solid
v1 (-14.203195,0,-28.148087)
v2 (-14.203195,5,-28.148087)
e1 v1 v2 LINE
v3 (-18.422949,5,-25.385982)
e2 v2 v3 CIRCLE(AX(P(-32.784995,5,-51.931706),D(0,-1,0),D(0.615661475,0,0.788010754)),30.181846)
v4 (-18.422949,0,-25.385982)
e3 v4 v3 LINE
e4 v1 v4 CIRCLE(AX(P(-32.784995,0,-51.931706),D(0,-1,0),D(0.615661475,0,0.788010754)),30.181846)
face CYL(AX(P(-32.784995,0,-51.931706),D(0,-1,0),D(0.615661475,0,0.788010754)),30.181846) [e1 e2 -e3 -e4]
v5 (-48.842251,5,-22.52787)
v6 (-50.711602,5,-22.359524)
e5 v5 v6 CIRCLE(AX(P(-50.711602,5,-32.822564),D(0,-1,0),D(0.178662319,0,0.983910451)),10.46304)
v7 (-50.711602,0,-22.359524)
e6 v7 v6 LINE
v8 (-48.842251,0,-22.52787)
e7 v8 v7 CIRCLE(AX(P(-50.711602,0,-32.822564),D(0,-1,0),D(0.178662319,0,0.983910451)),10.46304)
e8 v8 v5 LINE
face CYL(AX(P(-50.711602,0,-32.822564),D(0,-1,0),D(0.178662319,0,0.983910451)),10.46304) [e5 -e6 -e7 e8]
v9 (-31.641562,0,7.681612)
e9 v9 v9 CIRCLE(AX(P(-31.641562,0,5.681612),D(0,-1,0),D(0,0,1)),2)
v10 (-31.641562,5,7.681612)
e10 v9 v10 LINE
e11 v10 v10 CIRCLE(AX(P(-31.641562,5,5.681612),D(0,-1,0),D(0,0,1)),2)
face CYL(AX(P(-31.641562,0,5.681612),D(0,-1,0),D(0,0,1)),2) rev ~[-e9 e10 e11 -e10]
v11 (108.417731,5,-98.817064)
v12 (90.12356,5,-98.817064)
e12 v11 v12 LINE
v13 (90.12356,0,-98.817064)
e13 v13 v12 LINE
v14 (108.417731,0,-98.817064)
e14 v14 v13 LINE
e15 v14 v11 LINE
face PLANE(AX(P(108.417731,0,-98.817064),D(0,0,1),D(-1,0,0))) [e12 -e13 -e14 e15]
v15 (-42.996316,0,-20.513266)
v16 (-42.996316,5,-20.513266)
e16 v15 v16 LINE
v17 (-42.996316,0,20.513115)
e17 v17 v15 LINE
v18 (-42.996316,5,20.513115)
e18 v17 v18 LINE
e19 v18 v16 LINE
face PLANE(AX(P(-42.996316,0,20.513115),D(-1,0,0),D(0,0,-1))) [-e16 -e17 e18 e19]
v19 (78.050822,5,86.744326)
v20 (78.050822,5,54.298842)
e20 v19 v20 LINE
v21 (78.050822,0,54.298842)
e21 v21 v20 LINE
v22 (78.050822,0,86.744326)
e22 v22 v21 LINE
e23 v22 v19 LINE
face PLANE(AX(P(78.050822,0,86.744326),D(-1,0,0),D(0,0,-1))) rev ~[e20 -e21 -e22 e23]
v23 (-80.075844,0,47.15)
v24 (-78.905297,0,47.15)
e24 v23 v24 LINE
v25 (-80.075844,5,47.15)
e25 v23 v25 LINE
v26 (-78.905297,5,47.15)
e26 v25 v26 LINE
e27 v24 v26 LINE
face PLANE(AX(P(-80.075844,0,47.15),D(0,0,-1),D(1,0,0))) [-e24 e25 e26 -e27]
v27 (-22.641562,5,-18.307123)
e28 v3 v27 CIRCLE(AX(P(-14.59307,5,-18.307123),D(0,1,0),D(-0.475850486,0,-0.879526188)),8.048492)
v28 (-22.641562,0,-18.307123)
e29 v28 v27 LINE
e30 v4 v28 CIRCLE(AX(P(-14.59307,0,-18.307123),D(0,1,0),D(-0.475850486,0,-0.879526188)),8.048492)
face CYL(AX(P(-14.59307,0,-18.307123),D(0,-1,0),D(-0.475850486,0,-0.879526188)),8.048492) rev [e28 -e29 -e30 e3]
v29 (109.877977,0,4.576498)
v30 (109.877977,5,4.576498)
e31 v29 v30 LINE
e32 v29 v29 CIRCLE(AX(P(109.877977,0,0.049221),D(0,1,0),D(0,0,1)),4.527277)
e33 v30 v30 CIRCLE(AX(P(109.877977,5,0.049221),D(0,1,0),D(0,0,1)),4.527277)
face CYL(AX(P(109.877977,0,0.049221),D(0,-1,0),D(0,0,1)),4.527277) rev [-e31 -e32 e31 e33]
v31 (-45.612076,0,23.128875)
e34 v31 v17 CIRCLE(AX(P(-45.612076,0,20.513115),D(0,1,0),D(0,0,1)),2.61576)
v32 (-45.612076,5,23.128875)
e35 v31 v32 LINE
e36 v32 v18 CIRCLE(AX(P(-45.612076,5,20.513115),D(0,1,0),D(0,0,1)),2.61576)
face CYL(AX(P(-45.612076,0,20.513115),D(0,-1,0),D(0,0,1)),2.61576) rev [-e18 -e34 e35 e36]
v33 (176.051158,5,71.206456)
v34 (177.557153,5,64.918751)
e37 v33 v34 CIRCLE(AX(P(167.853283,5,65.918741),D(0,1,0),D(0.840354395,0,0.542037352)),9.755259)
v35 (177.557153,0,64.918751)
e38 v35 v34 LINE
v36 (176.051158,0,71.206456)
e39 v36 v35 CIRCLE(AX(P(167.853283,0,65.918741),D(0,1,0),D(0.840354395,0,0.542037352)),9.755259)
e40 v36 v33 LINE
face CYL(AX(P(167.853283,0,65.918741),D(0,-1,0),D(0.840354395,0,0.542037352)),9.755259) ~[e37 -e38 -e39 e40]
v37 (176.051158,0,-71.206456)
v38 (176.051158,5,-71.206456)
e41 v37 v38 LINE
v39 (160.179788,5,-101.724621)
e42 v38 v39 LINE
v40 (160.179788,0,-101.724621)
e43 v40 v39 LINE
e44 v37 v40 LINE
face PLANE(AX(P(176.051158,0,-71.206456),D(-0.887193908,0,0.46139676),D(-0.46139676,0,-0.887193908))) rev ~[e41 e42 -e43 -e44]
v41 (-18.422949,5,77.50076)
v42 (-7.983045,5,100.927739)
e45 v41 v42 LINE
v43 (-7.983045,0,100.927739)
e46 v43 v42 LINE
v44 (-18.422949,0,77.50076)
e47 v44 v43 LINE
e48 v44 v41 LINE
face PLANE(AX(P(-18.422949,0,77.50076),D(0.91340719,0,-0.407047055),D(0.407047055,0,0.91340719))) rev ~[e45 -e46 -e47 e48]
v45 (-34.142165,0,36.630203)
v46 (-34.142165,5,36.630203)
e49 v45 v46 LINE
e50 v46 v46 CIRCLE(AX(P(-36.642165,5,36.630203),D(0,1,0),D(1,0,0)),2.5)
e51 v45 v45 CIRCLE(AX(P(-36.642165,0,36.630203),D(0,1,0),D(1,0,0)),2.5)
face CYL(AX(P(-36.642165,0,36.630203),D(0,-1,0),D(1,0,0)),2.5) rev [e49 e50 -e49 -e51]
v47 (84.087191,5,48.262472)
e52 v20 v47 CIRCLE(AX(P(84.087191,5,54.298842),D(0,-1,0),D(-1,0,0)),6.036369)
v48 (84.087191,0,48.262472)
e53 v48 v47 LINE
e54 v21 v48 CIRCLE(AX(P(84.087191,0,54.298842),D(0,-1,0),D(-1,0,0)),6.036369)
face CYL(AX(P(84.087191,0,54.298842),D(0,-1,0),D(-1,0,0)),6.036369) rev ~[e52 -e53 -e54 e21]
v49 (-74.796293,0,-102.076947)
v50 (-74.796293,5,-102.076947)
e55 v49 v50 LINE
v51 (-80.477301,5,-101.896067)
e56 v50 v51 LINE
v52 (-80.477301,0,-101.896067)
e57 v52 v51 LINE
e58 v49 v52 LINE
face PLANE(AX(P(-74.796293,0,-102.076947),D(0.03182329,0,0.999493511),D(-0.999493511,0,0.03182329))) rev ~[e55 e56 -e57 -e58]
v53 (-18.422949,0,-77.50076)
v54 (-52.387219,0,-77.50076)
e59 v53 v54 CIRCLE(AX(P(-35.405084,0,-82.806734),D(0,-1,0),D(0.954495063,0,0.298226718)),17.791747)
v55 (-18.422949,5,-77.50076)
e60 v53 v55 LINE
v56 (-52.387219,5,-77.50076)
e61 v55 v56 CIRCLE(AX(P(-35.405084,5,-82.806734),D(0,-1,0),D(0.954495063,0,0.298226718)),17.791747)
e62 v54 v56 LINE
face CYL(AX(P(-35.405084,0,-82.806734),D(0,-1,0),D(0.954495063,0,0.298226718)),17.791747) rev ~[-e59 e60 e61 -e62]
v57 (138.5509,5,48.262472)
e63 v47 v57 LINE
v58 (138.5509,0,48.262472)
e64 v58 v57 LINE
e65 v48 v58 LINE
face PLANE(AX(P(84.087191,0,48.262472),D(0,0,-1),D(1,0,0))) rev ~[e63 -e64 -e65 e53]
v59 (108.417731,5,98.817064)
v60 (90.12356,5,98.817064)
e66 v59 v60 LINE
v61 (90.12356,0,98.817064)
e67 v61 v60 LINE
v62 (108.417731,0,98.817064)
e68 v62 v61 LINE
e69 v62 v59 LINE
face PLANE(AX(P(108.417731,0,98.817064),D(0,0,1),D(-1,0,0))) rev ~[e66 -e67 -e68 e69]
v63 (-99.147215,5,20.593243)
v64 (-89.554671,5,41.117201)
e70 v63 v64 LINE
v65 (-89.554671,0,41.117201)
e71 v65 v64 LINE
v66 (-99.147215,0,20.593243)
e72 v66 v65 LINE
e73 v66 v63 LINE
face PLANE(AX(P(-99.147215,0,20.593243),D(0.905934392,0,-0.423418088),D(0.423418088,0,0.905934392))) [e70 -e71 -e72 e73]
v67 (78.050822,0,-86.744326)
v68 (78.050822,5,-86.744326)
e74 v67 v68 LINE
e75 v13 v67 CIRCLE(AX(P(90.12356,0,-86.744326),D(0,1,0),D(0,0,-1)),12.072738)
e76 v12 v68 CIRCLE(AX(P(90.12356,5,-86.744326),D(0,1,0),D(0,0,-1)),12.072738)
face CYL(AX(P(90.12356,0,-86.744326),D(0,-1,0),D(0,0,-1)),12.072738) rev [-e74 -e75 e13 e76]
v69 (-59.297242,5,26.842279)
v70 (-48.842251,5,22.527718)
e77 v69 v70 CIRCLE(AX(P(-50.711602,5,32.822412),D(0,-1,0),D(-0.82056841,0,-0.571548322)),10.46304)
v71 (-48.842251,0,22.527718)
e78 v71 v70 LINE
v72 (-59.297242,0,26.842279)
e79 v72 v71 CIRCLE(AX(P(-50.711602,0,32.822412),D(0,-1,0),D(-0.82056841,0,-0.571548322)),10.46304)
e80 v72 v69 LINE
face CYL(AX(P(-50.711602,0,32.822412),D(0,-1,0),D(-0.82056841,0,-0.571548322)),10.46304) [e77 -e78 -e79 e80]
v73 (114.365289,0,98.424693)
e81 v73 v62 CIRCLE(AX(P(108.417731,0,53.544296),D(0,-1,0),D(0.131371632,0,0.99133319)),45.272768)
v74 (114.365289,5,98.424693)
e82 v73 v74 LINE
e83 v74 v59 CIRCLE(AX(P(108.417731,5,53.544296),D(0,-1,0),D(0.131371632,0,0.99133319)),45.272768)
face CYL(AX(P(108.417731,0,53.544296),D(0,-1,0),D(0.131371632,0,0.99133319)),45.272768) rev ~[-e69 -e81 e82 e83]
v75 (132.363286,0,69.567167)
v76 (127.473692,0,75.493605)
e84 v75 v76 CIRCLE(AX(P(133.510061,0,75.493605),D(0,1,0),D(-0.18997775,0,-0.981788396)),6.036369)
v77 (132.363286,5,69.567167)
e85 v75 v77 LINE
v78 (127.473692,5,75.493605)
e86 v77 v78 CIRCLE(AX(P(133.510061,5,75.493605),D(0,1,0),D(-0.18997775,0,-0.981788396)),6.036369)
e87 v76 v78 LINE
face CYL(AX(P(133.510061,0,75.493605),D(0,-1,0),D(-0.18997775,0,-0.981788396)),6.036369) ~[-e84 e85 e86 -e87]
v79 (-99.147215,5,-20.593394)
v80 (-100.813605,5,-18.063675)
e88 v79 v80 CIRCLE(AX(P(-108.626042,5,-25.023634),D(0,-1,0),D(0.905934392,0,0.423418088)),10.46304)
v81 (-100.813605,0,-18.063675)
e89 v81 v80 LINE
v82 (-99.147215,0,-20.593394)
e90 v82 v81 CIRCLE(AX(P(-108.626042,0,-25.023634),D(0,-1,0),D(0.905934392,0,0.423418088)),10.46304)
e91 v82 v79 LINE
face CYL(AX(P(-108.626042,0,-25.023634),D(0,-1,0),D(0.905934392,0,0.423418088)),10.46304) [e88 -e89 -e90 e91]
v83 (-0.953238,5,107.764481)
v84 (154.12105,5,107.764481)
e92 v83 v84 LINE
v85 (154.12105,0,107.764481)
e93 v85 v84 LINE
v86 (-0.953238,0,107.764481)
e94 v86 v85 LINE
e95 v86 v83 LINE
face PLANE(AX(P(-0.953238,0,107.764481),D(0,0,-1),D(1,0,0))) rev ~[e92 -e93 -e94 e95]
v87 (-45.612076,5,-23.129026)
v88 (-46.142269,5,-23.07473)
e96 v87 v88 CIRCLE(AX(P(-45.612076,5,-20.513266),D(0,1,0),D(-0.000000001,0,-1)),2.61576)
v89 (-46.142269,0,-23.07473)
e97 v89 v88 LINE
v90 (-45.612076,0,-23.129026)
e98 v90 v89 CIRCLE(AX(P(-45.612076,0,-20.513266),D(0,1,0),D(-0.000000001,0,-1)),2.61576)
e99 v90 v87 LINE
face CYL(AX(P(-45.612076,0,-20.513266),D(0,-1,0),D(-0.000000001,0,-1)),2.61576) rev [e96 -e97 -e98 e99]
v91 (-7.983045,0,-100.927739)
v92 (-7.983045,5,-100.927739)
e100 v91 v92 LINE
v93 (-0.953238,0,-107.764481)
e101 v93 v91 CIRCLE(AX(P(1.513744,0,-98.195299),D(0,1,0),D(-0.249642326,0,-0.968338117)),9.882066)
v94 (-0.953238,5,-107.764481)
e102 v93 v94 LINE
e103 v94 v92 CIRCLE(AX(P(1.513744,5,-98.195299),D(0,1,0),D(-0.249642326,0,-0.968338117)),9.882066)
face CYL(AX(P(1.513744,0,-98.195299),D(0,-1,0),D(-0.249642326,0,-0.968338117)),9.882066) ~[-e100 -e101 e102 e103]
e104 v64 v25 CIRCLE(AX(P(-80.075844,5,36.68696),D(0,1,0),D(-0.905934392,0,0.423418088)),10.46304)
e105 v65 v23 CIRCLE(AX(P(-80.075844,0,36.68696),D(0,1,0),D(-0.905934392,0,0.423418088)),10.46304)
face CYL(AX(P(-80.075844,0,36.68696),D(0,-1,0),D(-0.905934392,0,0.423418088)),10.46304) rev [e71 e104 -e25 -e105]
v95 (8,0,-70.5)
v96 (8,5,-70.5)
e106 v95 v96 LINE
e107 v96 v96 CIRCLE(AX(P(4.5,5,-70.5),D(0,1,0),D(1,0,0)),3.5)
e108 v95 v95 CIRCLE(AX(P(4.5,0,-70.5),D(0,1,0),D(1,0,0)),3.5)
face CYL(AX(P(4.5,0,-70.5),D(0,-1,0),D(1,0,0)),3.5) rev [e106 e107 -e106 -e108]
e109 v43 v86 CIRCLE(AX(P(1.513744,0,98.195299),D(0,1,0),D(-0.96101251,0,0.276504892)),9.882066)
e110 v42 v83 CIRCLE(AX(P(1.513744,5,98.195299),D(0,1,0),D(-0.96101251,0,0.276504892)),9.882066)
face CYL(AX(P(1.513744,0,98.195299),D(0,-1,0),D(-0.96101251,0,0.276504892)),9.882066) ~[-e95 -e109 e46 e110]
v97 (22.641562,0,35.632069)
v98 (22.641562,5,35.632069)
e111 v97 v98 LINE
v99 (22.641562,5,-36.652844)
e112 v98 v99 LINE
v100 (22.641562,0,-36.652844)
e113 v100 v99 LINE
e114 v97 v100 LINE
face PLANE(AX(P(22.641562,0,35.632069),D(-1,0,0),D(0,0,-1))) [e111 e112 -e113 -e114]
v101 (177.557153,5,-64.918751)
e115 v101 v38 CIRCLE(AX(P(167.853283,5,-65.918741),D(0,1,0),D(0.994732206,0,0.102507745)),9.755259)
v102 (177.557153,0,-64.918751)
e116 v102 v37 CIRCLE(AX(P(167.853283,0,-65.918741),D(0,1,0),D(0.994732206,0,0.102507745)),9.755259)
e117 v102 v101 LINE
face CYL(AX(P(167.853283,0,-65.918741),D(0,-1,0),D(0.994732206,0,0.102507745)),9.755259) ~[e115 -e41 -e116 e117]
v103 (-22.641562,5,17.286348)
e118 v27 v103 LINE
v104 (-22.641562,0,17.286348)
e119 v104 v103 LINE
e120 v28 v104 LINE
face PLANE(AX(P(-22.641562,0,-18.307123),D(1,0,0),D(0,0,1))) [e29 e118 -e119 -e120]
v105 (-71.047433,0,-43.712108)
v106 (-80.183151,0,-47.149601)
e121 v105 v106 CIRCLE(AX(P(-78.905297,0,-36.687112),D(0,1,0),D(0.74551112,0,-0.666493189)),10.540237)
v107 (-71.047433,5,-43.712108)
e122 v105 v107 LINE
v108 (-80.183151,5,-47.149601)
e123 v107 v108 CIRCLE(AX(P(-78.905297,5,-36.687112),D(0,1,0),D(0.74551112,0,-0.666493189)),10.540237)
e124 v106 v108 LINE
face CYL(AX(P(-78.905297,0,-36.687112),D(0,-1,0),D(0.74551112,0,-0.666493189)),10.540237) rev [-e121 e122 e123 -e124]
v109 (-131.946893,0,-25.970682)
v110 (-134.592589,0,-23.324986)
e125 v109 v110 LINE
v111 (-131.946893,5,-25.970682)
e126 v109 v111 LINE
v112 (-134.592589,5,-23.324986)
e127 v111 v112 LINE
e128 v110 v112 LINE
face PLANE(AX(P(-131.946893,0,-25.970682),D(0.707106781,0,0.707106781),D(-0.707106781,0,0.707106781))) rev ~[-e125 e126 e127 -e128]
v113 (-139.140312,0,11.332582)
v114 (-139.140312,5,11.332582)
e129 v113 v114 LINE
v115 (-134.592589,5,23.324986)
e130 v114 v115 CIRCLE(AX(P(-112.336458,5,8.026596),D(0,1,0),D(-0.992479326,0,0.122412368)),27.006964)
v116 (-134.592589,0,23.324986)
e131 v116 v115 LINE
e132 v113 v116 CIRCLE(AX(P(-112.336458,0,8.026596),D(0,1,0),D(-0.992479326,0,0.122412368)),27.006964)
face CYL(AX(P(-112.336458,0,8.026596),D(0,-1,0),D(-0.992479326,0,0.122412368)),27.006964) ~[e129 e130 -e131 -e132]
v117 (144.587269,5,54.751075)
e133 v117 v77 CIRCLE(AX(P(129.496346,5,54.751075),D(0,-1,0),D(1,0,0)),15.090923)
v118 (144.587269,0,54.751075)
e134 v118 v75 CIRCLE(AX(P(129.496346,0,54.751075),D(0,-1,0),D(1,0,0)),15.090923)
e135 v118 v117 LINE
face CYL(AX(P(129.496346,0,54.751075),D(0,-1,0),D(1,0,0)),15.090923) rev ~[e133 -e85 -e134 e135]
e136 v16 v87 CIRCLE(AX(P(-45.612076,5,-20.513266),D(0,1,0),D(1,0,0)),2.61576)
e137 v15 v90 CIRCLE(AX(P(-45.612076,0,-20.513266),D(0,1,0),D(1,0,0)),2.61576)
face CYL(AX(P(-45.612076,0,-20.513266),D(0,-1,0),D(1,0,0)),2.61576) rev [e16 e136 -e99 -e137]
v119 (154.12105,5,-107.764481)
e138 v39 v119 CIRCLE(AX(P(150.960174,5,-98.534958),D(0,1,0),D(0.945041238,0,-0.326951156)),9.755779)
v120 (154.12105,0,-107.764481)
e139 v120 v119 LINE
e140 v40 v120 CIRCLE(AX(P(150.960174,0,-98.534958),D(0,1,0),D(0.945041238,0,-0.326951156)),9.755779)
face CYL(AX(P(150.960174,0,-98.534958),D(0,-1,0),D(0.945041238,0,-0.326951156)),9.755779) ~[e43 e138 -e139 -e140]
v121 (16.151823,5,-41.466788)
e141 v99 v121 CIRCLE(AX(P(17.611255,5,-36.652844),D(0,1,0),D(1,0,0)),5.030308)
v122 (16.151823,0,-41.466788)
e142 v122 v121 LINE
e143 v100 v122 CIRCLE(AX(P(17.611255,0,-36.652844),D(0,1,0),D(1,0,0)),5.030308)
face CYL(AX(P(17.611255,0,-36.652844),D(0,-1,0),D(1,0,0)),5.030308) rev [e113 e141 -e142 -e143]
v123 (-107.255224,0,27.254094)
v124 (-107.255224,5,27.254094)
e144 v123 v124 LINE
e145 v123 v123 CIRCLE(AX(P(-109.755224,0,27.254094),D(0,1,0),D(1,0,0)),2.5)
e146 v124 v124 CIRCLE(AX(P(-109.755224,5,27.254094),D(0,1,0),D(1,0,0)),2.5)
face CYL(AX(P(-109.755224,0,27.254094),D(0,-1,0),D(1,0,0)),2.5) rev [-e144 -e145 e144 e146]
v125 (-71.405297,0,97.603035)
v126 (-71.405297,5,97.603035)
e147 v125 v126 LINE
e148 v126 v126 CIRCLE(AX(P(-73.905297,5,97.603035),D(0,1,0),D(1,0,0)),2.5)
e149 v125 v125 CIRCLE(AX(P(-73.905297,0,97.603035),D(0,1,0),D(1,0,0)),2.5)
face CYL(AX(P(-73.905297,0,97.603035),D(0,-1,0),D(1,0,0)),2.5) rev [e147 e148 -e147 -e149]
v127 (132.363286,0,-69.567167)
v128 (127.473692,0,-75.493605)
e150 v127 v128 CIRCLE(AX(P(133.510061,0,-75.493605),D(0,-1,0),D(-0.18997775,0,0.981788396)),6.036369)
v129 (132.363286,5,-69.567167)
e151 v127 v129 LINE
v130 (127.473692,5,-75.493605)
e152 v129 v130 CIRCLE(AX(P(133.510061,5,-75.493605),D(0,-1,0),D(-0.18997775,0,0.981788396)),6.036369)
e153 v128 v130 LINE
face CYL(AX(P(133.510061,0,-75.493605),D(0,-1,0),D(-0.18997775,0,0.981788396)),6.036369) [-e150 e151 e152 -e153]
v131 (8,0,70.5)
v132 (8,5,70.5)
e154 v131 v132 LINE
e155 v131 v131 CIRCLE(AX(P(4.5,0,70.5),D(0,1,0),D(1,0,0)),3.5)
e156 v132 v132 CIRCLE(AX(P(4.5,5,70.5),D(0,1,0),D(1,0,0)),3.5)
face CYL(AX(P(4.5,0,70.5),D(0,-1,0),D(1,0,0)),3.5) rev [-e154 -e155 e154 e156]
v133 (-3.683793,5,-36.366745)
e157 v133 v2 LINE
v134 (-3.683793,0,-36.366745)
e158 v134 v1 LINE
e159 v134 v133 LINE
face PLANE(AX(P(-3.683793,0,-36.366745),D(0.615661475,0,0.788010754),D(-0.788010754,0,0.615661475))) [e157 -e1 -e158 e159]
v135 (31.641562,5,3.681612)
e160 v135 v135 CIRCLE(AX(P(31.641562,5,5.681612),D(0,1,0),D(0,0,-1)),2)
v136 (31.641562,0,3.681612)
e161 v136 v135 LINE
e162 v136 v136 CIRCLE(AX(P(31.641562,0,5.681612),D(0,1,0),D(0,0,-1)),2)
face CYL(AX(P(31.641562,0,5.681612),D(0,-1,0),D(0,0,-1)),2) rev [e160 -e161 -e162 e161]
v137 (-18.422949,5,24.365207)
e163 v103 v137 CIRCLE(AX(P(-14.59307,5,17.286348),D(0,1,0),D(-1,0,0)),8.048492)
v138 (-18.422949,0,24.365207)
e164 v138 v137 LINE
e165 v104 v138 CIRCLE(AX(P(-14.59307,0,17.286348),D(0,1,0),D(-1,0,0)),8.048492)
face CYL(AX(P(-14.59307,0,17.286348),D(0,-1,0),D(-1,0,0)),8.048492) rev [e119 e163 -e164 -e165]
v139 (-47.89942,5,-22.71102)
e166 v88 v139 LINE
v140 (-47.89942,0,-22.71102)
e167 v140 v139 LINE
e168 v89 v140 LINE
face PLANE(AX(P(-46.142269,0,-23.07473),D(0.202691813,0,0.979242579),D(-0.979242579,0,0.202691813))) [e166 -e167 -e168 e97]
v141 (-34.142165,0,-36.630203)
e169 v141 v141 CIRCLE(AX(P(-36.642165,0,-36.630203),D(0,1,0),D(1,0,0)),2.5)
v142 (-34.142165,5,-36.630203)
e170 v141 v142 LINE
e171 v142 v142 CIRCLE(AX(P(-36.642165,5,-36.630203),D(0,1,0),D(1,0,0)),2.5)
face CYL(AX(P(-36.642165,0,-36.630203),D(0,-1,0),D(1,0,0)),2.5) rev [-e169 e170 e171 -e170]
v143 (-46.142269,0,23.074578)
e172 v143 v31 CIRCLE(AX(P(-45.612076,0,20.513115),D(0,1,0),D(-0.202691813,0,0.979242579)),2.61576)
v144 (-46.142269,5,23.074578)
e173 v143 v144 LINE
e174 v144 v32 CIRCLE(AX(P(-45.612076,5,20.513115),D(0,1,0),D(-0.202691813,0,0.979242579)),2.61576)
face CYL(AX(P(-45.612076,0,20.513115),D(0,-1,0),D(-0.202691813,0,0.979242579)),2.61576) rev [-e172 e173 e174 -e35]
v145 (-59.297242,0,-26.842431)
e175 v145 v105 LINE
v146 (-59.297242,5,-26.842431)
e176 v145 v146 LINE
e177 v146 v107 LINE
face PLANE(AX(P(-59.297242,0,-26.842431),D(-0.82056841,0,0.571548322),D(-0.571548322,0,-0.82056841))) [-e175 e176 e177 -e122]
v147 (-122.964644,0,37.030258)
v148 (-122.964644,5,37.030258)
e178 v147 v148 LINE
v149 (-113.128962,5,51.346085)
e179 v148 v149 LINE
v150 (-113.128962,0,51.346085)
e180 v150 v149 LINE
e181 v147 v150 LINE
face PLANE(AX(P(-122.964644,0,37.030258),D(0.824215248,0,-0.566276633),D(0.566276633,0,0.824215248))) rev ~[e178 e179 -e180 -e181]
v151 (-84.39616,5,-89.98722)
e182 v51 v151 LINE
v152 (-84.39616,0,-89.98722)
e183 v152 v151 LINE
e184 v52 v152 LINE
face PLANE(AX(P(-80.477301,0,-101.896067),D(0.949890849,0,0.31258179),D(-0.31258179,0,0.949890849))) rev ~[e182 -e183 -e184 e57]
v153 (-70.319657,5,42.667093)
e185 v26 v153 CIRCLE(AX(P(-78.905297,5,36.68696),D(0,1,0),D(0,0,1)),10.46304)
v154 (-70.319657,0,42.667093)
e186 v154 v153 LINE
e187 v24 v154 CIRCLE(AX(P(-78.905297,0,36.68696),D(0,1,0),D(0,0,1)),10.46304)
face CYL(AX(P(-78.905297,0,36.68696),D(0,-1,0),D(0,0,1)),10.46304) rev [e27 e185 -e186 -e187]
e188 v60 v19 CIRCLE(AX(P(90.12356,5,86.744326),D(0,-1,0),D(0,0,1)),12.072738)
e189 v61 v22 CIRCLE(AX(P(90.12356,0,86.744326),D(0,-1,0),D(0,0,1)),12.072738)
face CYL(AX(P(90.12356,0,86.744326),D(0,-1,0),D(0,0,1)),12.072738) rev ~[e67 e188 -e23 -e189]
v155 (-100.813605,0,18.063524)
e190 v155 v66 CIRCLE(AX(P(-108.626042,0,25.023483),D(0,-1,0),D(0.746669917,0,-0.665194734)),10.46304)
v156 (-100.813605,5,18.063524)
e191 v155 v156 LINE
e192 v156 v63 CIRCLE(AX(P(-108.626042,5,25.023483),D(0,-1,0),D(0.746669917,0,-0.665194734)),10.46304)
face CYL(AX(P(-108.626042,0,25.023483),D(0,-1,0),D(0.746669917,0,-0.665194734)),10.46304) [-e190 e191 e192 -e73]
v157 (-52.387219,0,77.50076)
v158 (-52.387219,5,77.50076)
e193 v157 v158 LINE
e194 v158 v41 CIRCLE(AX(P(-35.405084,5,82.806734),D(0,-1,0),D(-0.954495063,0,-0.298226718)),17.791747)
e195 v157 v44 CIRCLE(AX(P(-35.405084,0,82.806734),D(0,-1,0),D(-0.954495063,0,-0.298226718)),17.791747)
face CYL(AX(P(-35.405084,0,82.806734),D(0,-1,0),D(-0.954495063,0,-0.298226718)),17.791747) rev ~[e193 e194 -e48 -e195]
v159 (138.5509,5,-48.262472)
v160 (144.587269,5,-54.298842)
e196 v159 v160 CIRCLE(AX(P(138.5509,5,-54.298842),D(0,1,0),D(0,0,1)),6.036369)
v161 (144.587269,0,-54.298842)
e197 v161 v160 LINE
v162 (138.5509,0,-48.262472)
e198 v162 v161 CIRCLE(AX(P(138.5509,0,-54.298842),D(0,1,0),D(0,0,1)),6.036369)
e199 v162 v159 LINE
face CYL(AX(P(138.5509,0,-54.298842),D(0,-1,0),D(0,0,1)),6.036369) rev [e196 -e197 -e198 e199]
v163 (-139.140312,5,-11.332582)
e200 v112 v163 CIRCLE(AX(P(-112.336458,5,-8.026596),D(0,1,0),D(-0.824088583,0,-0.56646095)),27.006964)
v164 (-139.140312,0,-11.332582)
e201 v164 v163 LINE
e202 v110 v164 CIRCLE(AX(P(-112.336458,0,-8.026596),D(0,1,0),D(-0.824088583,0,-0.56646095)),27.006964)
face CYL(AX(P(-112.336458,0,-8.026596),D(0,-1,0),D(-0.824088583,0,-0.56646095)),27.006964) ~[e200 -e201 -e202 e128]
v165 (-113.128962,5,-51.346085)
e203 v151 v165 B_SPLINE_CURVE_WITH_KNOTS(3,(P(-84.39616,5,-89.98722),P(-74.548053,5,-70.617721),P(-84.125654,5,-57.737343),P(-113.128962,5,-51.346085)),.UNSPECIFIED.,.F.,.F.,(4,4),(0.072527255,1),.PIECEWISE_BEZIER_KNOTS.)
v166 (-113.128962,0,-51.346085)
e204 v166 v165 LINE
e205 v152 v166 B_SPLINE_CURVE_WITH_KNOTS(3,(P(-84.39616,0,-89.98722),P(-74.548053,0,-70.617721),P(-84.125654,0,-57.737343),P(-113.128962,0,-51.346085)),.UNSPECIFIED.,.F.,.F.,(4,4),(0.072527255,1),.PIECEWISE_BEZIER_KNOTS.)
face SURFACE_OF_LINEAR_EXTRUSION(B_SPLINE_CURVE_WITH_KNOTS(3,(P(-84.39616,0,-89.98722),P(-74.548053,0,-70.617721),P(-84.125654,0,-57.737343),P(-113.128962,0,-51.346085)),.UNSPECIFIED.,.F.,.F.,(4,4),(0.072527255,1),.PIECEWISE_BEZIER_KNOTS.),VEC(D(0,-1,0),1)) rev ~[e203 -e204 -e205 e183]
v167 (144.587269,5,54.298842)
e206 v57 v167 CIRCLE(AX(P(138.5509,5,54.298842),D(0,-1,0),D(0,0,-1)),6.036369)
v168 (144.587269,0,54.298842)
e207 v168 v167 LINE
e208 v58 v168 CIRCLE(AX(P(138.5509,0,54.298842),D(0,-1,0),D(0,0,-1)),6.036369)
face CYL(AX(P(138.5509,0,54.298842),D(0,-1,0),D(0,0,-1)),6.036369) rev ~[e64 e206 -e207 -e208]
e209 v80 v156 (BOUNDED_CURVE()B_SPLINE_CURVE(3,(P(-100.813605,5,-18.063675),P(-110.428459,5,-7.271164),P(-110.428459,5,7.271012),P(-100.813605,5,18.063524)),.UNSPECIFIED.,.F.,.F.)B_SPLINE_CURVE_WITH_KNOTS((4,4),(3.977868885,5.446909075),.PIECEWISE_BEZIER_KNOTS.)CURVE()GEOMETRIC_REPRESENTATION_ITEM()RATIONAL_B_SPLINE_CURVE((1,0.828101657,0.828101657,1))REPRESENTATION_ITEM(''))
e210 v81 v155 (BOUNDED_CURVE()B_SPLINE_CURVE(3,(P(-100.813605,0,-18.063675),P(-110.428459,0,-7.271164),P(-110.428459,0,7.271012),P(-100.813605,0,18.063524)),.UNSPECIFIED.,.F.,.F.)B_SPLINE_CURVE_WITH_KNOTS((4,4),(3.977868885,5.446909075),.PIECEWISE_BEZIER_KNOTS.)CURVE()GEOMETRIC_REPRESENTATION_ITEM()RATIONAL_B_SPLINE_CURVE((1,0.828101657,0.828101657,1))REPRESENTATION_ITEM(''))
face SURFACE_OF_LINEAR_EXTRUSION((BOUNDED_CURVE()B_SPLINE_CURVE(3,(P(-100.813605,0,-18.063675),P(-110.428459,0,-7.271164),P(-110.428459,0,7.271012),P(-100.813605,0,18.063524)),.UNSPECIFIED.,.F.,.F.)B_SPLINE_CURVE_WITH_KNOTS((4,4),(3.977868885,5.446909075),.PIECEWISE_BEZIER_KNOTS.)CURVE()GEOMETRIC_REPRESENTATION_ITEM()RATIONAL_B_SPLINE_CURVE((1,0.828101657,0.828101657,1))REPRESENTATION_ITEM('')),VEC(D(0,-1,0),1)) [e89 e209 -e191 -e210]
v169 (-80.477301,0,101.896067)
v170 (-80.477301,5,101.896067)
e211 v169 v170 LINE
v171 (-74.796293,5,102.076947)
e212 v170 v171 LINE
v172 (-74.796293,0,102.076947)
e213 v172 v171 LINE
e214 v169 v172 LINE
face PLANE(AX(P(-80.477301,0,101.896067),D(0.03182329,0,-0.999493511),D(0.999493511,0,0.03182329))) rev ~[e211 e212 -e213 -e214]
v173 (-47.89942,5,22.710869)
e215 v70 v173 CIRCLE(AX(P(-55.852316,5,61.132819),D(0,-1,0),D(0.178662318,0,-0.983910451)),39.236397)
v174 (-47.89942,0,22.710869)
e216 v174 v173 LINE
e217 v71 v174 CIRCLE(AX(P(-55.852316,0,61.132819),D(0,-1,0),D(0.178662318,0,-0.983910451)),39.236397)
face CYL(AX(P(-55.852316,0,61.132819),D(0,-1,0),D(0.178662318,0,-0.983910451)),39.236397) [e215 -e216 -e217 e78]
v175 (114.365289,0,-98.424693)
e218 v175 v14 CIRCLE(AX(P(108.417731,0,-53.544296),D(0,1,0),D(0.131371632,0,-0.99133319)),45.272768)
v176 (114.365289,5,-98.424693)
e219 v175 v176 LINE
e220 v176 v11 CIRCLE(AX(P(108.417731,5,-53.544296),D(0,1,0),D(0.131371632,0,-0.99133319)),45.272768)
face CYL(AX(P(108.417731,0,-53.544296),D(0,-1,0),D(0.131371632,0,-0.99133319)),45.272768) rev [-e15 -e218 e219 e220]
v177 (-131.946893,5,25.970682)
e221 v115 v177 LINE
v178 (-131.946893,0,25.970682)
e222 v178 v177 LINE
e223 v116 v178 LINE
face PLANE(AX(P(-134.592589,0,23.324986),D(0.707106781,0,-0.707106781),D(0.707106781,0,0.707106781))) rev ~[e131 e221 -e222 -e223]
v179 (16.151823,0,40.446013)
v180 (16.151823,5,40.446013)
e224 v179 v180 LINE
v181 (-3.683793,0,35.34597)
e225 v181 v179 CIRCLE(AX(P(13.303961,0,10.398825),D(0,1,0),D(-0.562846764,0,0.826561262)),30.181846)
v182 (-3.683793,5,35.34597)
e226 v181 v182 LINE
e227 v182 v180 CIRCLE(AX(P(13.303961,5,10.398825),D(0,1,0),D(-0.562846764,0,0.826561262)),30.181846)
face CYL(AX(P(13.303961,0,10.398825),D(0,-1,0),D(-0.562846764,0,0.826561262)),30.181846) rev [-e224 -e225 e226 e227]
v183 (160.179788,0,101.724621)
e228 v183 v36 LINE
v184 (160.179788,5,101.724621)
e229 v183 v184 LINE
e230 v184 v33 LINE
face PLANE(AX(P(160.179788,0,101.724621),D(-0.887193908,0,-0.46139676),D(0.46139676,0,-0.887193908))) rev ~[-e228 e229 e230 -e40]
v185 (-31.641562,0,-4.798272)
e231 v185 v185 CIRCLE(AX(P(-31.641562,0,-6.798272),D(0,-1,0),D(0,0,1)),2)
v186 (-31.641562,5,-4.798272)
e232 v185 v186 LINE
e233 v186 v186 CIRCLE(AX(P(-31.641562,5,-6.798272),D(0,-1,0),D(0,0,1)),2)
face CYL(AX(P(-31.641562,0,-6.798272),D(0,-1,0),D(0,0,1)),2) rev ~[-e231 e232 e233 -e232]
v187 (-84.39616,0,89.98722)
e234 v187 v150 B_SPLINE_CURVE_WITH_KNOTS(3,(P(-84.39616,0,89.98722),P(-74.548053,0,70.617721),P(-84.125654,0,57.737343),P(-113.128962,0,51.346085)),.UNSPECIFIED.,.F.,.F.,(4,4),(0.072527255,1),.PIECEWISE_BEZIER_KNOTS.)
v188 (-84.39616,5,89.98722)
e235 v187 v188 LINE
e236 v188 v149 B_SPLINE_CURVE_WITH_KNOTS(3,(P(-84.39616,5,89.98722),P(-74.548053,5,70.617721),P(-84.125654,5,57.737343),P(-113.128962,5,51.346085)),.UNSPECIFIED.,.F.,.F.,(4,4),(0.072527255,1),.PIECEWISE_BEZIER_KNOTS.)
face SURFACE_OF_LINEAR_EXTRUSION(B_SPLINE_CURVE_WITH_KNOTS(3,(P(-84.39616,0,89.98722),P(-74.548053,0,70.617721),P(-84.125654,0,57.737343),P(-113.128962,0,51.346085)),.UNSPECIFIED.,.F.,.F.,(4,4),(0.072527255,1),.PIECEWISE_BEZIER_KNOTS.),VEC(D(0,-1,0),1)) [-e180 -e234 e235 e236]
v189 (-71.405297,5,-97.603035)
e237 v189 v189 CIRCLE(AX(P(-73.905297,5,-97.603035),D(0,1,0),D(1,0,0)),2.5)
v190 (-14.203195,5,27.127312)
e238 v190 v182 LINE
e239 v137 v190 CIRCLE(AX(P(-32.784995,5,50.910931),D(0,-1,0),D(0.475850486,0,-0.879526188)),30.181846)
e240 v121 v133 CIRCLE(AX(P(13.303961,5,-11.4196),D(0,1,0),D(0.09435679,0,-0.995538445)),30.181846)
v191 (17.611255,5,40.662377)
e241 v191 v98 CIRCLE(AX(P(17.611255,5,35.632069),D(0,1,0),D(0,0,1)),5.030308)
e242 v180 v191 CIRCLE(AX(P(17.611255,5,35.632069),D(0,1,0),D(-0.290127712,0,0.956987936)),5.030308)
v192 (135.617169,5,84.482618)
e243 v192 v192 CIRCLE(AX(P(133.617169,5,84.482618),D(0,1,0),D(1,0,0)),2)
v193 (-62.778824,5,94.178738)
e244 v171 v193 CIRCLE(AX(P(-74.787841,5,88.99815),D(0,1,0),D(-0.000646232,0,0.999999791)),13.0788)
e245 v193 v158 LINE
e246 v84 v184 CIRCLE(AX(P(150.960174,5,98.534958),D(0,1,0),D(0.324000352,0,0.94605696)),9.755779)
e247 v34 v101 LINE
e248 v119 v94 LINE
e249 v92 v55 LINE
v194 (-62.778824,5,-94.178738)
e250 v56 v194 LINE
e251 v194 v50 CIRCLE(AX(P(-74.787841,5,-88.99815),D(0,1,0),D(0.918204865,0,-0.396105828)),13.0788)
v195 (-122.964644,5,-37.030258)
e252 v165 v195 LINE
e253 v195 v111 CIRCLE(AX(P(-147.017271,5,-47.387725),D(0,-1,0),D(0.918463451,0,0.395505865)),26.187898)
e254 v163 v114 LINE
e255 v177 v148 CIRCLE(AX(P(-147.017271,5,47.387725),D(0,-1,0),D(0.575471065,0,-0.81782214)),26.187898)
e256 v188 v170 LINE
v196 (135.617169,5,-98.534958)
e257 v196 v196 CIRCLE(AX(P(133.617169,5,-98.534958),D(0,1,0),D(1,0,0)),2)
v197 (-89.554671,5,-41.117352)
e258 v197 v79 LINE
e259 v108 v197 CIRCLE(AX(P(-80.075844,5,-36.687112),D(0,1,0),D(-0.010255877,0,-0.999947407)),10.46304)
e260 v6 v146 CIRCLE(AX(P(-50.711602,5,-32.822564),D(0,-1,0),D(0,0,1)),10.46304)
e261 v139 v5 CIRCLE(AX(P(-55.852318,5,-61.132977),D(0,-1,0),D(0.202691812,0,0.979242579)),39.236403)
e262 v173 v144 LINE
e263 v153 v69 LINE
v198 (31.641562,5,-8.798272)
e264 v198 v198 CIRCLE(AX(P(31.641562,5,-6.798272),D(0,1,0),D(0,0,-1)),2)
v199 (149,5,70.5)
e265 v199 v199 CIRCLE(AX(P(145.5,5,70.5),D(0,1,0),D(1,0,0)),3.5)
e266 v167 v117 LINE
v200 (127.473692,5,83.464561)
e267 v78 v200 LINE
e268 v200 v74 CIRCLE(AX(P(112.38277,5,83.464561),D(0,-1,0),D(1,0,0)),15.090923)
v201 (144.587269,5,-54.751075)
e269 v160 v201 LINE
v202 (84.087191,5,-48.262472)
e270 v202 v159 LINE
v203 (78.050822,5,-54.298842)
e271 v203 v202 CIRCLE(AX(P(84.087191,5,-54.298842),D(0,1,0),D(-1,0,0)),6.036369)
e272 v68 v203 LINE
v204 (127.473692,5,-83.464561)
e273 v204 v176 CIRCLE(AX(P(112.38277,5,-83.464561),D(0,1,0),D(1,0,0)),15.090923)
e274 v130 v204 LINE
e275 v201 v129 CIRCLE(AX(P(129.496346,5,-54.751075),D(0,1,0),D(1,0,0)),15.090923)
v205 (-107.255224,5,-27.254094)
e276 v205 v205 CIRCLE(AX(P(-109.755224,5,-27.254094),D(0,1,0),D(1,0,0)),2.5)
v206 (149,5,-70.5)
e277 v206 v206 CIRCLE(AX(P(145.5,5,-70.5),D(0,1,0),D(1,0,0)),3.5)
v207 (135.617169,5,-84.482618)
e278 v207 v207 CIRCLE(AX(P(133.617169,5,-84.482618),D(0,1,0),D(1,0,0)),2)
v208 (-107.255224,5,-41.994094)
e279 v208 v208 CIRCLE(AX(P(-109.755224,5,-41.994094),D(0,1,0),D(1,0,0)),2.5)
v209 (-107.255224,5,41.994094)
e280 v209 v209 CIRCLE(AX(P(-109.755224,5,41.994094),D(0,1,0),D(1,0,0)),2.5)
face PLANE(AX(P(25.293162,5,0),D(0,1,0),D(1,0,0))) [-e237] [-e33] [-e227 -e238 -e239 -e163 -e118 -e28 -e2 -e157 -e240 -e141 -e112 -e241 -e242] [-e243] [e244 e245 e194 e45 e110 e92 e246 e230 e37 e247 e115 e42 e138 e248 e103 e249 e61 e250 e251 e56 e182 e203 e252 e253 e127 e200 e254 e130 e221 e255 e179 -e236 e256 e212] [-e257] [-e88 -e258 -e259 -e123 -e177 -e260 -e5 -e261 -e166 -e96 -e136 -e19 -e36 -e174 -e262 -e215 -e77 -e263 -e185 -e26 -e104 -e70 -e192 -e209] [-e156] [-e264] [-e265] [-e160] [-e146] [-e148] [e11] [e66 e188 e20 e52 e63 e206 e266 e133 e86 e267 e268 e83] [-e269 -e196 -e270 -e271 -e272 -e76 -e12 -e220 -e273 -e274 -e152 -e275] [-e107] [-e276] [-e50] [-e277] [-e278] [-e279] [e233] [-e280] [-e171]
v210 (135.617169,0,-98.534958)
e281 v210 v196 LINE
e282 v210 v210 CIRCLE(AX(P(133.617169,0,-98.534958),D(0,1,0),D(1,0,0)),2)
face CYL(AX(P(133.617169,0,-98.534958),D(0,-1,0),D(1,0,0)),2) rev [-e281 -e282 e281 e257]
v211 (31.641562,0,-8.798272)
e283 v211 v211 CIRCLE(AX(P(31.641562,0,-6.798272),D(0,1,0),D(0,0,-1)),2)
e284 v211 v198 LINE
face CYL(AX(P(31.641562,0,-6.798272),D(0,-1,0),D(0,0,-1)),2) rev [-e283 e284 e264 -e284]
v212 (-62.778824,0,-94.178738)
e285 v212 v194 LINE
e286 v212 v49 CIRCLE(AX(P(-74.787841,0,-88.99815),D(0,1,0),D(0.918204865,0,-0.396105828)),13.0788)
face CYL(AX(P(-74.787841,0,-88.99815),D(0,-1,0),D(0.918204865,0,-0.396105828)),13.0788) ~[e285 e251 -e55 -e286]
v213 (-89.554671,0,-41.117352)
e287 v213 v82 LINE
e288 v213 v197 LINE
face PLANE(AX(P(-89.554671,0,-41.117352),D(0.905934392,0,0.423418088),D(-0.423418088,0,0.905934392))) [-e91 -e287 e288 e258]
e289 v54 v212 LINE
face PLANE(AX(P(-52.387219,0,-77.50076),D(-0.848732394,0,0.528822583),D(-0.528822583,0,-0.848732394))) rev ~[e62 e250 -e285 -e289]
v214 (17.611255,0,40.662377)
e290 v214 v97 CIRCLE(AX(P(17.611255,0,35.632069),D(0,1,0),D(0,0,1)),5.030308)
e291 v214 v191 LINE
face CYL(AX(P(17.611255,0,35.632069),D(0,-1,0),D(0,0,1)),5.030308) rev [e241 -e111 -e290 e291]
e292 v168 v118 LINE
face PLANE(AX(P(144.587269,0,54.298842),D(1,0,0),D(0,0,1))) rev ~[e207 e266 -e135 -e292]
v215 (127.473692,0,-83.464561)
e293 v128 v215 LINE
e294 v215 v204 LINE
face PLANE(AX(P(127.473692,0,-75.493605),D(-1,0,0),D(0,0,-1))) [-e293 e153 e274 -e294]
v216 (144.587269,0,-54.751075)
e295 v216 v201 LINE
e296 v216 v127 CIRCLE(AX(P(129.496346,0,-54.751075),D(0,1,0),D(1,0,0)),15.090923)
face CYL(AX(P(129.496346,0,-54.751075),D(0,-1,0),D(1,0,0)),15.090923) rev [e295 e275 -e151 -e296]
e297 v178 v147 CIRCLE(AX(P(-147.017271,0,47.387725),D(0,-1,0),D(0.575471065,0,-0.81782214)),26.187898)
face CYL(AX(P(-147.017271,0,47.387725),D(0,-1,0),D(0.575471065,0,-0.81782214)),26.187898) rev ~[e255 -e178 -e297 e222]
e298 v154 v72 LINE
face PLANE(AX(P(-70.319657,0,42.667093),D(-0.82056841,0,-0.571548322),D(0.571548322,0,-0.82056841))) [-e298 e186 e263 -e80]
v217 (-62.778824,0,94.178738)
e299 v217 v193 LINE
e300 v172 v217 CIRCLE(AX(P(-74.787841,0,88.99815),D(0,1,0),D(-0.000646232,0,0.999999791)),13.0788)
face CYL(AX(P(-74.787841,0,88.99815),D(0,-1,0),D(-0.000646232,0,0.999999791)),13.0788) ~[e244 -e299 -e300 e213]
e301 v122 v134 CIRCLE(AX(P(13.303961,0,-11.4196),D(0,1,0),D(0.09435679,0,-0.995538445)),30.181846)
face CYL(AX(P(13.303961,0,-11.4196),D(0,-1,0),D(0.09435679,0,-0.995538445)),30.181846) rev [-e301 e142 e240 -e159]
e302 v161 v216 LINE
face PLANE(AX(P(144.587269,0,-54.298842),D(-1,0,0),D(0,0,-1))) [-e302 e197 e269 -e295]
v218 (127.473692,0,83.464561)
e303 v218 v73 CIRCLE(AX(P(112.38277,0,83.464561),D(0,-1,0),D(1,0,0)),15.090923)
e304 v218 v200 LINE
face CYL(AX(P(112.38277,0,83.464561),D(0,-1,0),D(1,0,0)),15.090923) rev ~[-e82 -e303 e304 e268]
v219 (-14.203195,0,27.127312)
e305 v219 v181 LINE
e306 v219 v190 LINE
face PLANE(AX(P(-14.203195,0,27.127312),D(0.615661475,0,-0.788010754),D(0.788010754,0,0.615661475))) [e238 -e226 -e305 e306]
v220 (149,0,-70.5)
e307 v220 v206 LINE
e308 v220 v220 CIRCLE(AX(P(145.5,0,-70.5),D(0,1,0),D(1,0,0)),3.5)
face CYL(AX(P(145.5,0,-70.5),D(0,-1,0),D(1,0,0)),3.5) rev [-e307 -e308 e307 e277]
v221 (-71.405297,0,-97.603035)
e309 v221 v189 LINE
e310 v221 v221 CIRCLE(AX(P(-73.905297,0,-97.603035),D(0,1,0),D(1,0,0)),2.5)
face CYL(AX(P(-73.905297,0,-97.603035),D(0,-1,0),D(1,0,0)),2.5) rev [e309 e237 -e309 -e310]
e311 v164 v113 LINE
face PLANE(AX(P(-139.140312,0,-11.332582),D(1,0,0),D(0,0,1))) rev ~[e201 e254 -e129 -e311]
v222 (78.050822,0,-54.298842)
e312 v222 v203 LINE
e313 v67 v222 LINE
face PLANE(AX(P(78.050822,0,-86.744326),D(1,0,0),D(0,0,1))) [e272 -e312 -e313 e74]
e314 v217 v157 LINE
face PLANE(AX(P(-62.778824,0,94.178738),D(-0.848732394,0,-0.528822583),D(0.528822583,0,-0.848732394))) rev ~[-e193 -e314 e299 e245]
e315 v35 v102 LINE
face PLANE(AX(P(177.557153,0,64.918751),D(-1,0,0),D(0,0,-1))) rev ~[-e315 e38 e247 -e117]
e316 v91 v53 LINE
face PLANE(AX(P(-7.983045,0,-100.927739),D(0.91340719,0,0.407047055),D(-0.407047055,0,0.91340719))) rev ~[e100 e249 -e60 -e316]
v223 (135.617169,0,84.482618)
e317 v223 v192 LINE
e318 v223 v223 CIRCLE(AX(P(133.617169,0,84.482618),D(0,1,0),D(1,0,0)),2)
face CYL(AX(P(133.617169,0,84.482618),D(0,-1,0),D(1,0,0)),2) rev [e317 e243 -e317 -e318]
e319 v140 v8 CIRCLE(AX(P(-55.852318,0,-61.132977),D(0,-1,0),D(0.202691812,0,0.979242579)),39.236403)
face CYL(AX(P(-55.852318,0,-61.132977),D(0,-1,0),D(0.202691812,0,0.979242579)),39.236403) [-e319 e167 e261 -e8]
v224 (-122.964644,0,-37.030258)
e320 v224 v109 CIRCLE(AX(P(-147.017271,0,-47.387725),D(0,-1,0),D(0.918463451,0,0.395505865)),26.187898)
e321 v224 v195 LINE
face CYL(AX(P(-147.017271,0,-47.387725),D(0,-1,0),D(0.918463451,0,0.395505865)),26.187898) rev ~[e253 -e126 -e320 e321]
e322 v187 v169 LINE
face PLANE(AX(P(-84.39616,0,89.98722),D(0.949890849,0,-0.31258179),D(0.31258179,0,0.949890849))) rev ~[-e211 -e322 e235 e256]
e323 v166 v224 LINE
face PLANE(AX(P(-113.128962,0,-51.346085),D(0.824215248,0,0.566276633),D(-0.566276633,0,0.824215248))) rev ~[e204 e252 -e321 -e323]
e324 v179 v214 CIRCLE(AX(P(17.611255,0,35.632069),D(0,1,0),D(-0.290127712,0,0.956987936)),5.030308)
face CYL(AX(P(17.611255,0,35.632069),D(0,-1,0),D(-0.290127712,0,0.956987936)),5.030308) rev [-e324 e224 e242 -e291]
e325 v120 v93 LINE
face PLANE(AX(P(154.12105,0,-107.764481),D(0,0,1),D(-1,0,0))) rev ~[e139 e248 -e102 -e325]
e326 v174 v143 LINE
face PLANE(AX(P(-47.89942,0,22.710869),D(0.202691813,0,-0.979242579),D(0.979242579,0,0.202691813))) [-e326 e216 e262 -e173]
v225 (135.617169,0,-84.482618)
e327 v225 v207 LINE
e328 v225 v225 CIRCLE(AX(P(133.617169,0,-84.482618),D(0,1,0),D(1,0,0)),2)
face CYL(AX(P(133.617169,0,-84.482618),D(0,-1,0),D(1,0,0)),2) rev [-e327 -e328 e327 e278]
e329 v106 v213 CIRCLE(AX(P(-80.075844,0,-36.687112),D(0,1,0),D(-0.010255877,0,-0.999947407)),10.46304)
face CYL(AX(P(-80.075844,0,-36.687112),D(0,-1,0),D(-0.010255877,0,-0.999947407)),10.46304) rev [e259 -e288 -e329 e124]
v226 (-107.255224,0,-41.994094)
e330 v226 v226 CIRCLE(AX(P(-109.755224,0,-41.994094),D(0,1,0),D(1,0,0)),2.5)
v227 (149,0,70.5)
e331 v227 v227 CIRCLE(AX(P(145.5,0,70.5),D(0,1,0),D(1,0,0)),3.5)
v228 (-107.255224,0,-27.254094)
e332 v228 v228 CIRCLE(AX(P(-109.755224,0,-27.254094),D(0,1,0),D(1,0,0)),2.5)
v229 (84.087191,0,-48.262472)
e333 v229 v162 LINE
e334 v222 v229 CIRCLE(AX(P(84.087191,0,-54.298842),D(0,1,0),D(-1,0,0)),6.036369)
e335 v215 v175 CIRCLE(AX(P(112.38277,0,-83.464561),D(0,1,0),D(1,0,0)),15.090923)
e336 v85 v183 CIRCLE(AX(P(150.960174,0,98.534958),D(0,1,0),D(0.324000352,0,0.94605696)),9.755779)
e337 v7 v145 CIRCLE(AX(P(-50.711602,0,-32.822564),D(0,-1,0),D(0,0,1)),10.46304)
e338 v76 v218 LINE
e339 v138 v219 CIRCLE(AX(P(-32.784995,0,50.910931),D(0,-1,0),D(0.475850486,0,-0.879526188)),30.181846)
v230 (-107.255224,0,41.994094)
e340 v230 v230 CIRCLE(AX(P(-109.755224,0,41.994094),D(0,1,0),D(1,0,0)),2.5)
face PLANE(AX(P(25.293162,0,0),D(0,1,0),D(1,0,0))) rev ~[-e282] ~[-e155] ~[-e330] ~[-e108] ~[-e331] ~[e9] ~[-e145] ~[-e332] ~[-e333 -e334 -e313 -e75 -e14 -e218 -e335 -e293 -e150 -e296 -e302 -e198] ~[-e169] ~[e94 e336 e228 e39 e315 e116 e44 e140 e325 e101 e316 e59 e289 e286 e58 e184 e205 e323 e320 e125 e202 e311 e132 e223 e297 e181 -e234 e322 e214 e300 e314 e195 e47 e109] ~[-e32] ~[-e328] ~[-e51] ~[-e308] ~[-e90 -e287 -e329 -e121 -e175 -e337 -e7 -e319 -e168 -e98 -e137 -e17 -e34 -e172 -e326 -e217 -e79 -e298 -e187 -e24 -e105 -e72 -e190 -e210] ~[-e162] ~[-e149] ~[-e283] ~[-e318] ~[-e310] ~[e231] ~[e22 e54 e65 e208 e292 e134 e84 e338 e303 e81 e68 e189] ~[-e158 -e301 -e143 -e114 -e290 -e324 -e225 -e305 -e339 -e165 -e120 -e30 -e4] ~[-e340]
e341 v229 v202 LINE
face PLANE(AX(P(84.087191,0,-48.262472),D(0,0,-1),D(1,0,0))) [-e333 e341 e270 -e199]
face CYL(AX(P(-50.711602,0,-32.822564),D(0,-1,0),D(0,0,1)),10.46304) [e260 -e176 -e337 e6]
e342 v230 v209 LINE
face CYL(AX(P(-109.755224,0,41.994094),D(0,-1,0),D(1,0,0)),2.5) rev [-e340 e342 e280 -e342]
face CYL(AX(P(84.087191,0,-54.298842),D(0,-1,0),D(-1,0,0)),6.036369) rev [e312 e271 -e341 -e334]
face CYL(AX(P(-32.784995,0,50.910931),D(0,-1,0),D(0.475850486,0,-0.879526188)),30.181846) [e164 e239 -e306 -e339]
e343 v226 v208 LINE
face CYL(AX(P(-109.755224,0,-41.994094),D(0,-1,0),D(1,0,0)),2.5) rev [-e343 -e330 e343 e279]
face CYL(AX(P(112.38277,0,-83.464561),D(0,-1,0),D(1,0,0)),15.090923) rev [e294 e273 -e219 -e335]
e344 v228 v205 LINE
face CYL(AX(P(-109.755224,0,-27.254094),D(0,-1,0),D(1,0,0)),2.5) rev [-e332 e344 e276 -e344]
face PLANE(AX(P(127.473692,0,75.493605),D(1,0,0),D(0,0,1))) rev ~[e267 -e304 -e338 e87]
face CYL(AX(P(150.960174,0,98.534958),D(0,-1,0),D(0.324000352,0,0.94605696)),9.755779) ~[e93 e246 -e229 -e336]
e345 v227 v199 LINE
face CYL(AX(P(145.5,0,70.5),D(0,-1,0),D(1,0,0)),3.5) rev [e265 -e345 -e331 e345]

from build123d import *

# Parameters (mm, degrees)
SKETCH1_R           = 3.5
SKETCH1_R_2         = 2.5
SKETCH1_R_3         = 2
BOSS_EXTRUDE2_DEPTH = 5


with BuildPart() as part:
    # Sketch1 → Boss-Extrude2 (new body)
    with BuildSketch(Plane(origin=(0, 0, 0), x_dir=(1, 0, 0), z_dir=(0, 1, 0))):
        with BuildLine():
            Line((-131.94689332, 25.970681882), (-134.592588801, 23.324986401))
            ThreePointArc((-134.592588801, 23.324986401), (-137.58868474, 17.60266792), (-139.140311552, 11.332582281))
            Line((-139.140311552, 11.332582281), (-139.140311552, -11.332582281))
            ThreePointArc((-139.140311552, -11.332582281), (-137.58868474, -17.60266792), (-134.592588801, -23.324986401))
            Line((-134.592588801, -23.324986401), (-131.94689332, -25.970681882))
            ThreePointArc((-131.94689332, -25.970681882), (-126.689188545, -30.877876968), (-122.964643548, -37.030257619))
            Line((-122.964643548, -37.030257619), (-113.128962492, -51.346084613))
            add(Edge.make_bspline(
                [(-84.396160179, -89.98721953), (-74.548053374, -70.617720847), (-84.125654145, -57.737342542), (-113.128962492, -51.346084613)],
                knots=[0.072527255, 0.072527255, 0.072527255, 0.072527255, 1, 1, 1, 1], degree=3))
            Line((-84.396160179, -89.98721953), (-80.477300699, -101.896066655))
            Line((-80.477300699, -101.896066655), (-74.796293078, -102.076946621))
            ThreePointArc((-74.796293078, -102.076946621), (-67.604609488, -99.92775096), (-62.778823596, -94.178738404))
            Line((-62.778823596, -94.178738404), (-52.387218797, -77.500760005))
            ThreePointArc((-52.387218797, -77.500760005), (-35.405083828, -65.014987094), (-18.42294886, -77.500760005))
            Line((-18.42294886, -77.500760005), (-7.983045495, -100.927738965))
            ThreePointArc((-7.983045495, -100.927738965), (-5.375974323, -105.279578897), (-0.95323828, -107.764480662))
            Line((-0.95323828, -107.764480662), (154.12105013, -107.764480662))
            ThreePointArc((154.12105013, -107.764480662), (157.84777942, -105.444091096), (160.179787775, -101.724621245))
            Line((160.179787775, -101.724621245), (176.051157754, -71.206455594))
            ThreePointArc((176.051157754, -71.206455594), (177.340217514, -68.190997819), (177.557153354, -64.918750962))
            Line((177.557153354, -64.918750962), (177.557153354, 64.918750962))
            ThreePointArc((177.557153354, 64.918750962), (177.340217514, 68.190997819), (176.051157754, 71.206455594))
            Line((176.051157754, 71.206455594), (160.179787775, 101.724621245))
            ThreePointArc((160.179787775, 101.724621245), (157.84777942, 105.444091096), (154.12105013, 107.764480662))
            Line((154.12105013, 107.764480662), (-0.95323828, 107.764480662))
            ThreePointArc((-0.95323828, 107.764480662), (-5.375974323, 105.279578897), (-7.983045495, 100.927738965))
            Line((-7.983045495, 100.927738965), (-18.42294886, 77.500760005))
            ThreePointArc((-18.42294886, 77.500760005), (-35.405083828, 65.014987094), (-52.387218797, 77.500760005))
            Line((-52.387218797, 77.500760005), (-62.778823596, 94.178738404))
            ThreePointArc((-62.778823596, 94.178738404), (-67.604609488, 99.92775096), (-74.796293078, 102.076946621))
            Line((-74.796293078, 102.076946621), (-80.477300699, 101.896066655))
            Line((-80.477300699, 101.896066655), (-84.396160179, 89.98721953))
            add(Edge.make_bspline(
                [(-84.396160179, 89.98721953), (-74.548053374, 70.617720847), (-84.125654145, 57.737342542), (-113.128962492, 51.346084613)],
                knots=[0.072527255, 0.072527255, 0.072527255, 0.072527255, 1, 1, 1, 1], degree=3))
            Line((-113.128962492, 51.346084613), (-122.964643548, 37.030257619))
            ThreePointArc((-122.964643548, 37.030257619), (-126.689188545, 30.877876968), (-131.94689332, 25.970681882))
        make_face()
        with Locations((145.5, 70.5)):
            Circle(SKETCH1_R, mode=Mode.SUBTRACT)
        with Locations((4.5, 70.5)):
            Circle(SKETCH1_R, mode=Mode.SUBTRACT)
        with Locations((4.5, -70.5)):
            Circle(SKETCH1_R, mode=Mode.SUBTRACT)
        with Locations((145.5, -70.5)):
            Circle(SKETCH1_R, mode=Mode.SUBTRACT)
        with Locations((-73.905296724, 97.603035068)):
            Circle(SKETCH1_R_2, mode=Mode.SUBTRACT)
        with Locations((-36.642164959, 36.630202961)):
            Circle(SKETCH1_R_2, mode=Mode.SUBTRACT)
        with Locations((-36.642164959, -36.630202961)):
            Circle(SKETCH1_R_2, mode=Mode.SUBTRACT)
        with Locations((-73.905296724, -97.603035068)):
            Circle(SKETCH1_R_2, mode=Mode.SUBTRACT)
        with Locations((-109.755224174, -27.254093608)):
            Circle(SKETCH1_R_2, mode=Mode.SUBTRACT)
        with Locations((-109.755224174, -41.994093608)):
            Circle(SKETCH1_R_2, mode=Mode.SUBTRACT)
        with Locations((-109.755224174, 41.994093608)):
            Circle(SKETCH1_R_2, mode=Mode.SUBTRACT)
        with Locations((-109.755224174, 27.254093608)):
            Circle(SKETCH1_R_2, mode=Mode.SUBTRACT)
        with Locations((133.617169417, -84.482617886)):
            Circle(SKETCH1_R_3, mode=Mode.SUBTRACT)
        with Locations((133.617169417, 84.482617886)):
            Circle(SKETCH1_R_3, mode=Mode.SUBTRACT)
        with Locations((133.617169417, 98.534958019)):
            Circle(SKETCH1_R_3, mode=Mode.SUBTRACT)
        with BuildLine():
            Line((22.641562111, -35.632069218), (22.641562111, 36.652844088))
            ThreePointArc((22.641562111, 36.652844088), (20.608136604, 40.692979265), (16.151822888, 41.466787774))
            ThreePointArc((16.151822888, 41.466787774), (5.788194255, 40.650697554), (-3.683793295, 36.366744527))
            Line((-3.683793295, 36.366744527), (-14.203195163, 28.148087048))
            ThreePointArc((-14.203195163, 28.148087048), (-16.255277744, 26.678740586), (-18.42294886, 25.385982343))
            ThreePointArc((-18.42294886, 25.385982343), (-21.506931984, 22.427406429), (-22.641562111, 18.307122723))
            Line((-22.641562111, 18.307122723), (-22.641562111, -17.286347854))
            ThreePointArc((-22.641562111, -17.286347854), (-21.506931984, -21.40663156), (-18.42294886, -24.365207473))
            ThreePointArc((-18.42294886, -24.365207473), (-16.255277744, -25.657965716), (-14.203195163, -27.127312178))
            Line((-14.203195163, -27.127312178), (-3.683793295, -35.345969657))
            ThreePointArc((-3.683793295, -35.345969657), (5.788194255, -39.629922684), (16.151822888, -40.446012904))
            ThreePointArc((16.151822888, -40.446012904), (16.873563182, -40.607991845), (17.611254517, -40.662376812))
            ThreePointArc((17.611254517, -40.662376812), (21.168219128, -39.189033829), (22.641562111, -35.632069218))
        make_face(mode=Mode.SUBTRACT)
        with BuildLine():
            Line((-89.554671241, 41.117352002), (-99.147214694, 20.593394094))
            ThreePointArc((-99.147214694, 20.593394094), (-99.888375125, 19.267909053), (-100.81360523, 18.063675425))
            add(Edge.make_bspline(
                [(-100.81360523, 18.063675425), (-110.428458968, 7.271163587), (-110.428458968, -7.271012097), (-100.81360523, -18.063523935)],
                knots=[3.977868885, 3.977868885, 3.977868885, 3.977868885, 5.446909075, 5.446909075, 5.446909075, 5.446909075], degree=3, weights=[1, 0.828101657, 0.828101657, 1]))
            ThreePointArc((-100.81360523, -18.063523935), (-99.888375125, -19.267757563), (-99.147214694, -20.593242605))
            Line((-99.147214694, -20.593242605), (-89.554671241, -41.117200512))
            ThreePointArc((-89.554671241, -41.117200512), (-85.693735649, -45.513878761), (-80.075843646, -47.15))
            Line((-80.075843646, -47.15), (-78.905296724, -47.15))
            ThreePointArc((-78.905296724, -47.15), (-74.062527173, -45.961807095), (-70.319656797, -42.667093047))
            Line((-70.319656797, -42.667093047), (-59.297241663, -26.842279456))
            ThreePointArc((-59.297241663, -26.842279456), (-54.702966705, -23.150586853), (-48.842250779, -22.527718094))
            ThreePointArc((-48.842250779, -22.527718094), (-48.370274947, -22.61640832), (-47.899419977, -22.710868575))
            Line((-47.899419977, -22.710868575), (-46.142268668, -23.074578438))
            ThreePointArc((-46.142268668, -23.074578438), (-45.878558587, -23.115265356), (-45.612075542, -23.128874868))
            ThreePointArc((-45.612075542, -23.128874868), (-43.762453944, -22.362736517), (-42.996315593, -20.51311492))
            Line((-42.996315593, -20.51311492), (-42.996315593, 20.513266409))
            ThreePointArc((-42.996315593, 20.513266409), (-43.762453944, 22.362888007), (-45.612075542, 23.129026358))
            ThreePointArc((-45.612075542, 23.129026358), (-45.878558587, 23.115416846), (-46.142268668, 23.074729928))
            Line((-46.142268668, 23.074729928), (-47.899419977, 22.711020065))
            ThreePointArc((-47.899419977, 22.711020065), (-48.370274947, 22.61655981), (-48.842250779, 22.527869583))
            ThreePointArc((-48.842250779, 22.527869583), (-49.773143794, 22.401695376), (-50.711601736, 22.359523992))
            ThreePointArc((-50.711601736, 22.359523992), (-55.554371288, 23.547716898), (-59.297241663, 26.842430946))
            Line((-59.297241663, 26.842430946), (-71.047432728, 43.712107962))
            ThreePointArc((-71.047432728, 43.712107962), (-75.193394119, 46.552119459), (-80.183151299, 47.149601208))
            ThreePointArc((-80.183151299, 47.149601208), (-85.738926275, 45.485105607), (-89.554671241, 41.117352002))
        make_face(mode=Mode.SUBTRACT)
        with BuildLine():
            Line((144.587268898, 54.298841595), (144.587268898, 54.751074521))
            ThreePointArc((144.587268898, 54.751074521), (141.136808174, 64.355010875), (132.363285671, 69.567167393))
            ThreePointArc((132.363285671, 69.567167393), (128.85387667, 71.65203), (127.47369238, 75.493604542))
            Line((127.47369238, 75.493604542), (127.47369238, 83.46456071))
            ThreePointArc((127.47369238, 83.46456071), (123.732967698, 93.409858769), (114.365288749, 98.424693337))
            ThreePointArc((114.365288749, 98.424693337), (111.397974334, 98.718864685), (108.417731298, 98.8170638))
            Line((108.417731298, 98.8170638), (90.123559862, 98.8170638))
            ThreePointArc((90.123559862, 98.8170638), (81.586844795, 95.281040642), (78.050821636, 86.744325575))
            Line((78.050821636, 86.744325575), (78.050821636, 54.298841595))
            ThreePointArc((78.050821636, 54.298841595), (79.818833216, 50.030484062), (84.087190749, 48.262472483))
            Line((84.087190749, 48.262472483), (138.550899786, 48.262472483))
            ThreePointArc((138.550899786, 48.262472483), (142.819257319, 50.030484062), (144.587268898, 54.298841595))
        make_face(mode=Mode.SUBTRACT)
        with BuildLine():
            Line((84.087190749, -48.262472483), (138.550899786, -48.262472483))
            ThreePointArc((138.550899786, -48.262472483), (142.819257319, -50.030484062), (144.587268898, -54.298841595))
            Line((144.587268898, -54.298841595), (144.587268898, -54.751074521))
            ThreePointArc((144.587268898, -54.751074521), (141.136808174, -64.355010875), (132.363285671, -69.567167393))
            ThreePointArc((132.363285671, -69.567167393), (128.85387667, -71.65203), (127.47369238, -75.493604542))
            Line((127.47369238, -75.493604542), (127.47369238, -83.46456071))
            ThreePointArc((127.47369238, -83.46456071), (123.732967698, -93.409858769), (114.365288749, -98.424693337))
            ThreePointArc((114.365288749, -98.424693337), (111.397974334, -98.718864685), (108.417731298, -98.8170638))
            Line((108.417731298, -98.8170638), (90.123559862, -98.8170638))
            ThreePointArc((90.123559862, -98.8170638), (81.586844795, -95.281040642), (78.050821636, -86.744325575))
            Line((78.050821636, -86.744325575), (78.050821636, -54.298841595))
            ThreePointArc((78.050821636, -54.298841595), (79.818833216, -50.030484062), (84.087190749, -48.262472483))
        make_face(mode=Mode.SUBTRACT)
        with BuildLine():
            ThreePointArc((31.641562111, 4.798271927), (33.641562111, 6.798271927), (31.641562111, 8.798271927))
            ThreePointArc((31.641562111, 8.798271927), (29.641562111, 6.798271927), (31.641562111, 4.798271927))
        make_face(mode=Mode.SUBTRACT)
        with BuildLine():
            ThreePointArc((31.641562111, -7.681612107), (33.641562111, -5.681612107), (31.641562111, -3.681612107))
            ThreePointArc((31.641562111, -3.681612107), (29.641562111, -5.681612107), (31.641562111, -7.681612107))
        make_face(mode=Mode.SUBTRACT)
        with BuildLine():
            ThreePointArc((109.877976865, 4.478055975), (105.350700031, -0.04922086), (109.877976865, -4.576497694))
            ThreePointArc((109.877976865, -4.576497694), (114.4052537, -0.04922086), (109.877976865, 4.478055975))
        make_face(mode=Mode.SUBTRACT)
        with BuildLine():
            ThreePointArc((-31.641562111, -3.681612107), (-29.641562111, -5.681612107), (-31.641562111, -7.681612107))
            ThreePointArc((-31.641562111, -7.681612107), (-33.641562111, -5.681612107), (-31.641562111, -3.681612107))
        make_face(mode=Mode.SUBTRACT)
        with BuildLine():
            ThreePointArc((-31.641562111, 8.798271927), (-29.641562111, 6.798271927), (-31.641562111, 4.798271927))
            ThreePointArc((-31.641562111, 4.798271927), (-33.641562111, 6.798271927), (-31.641562111, 8.798271927))
        make_face(mode=Mode.SUBTRACT)
    extrude(amount=BOSS_EXTRUDE2_DEPTH)


solid = part.part
